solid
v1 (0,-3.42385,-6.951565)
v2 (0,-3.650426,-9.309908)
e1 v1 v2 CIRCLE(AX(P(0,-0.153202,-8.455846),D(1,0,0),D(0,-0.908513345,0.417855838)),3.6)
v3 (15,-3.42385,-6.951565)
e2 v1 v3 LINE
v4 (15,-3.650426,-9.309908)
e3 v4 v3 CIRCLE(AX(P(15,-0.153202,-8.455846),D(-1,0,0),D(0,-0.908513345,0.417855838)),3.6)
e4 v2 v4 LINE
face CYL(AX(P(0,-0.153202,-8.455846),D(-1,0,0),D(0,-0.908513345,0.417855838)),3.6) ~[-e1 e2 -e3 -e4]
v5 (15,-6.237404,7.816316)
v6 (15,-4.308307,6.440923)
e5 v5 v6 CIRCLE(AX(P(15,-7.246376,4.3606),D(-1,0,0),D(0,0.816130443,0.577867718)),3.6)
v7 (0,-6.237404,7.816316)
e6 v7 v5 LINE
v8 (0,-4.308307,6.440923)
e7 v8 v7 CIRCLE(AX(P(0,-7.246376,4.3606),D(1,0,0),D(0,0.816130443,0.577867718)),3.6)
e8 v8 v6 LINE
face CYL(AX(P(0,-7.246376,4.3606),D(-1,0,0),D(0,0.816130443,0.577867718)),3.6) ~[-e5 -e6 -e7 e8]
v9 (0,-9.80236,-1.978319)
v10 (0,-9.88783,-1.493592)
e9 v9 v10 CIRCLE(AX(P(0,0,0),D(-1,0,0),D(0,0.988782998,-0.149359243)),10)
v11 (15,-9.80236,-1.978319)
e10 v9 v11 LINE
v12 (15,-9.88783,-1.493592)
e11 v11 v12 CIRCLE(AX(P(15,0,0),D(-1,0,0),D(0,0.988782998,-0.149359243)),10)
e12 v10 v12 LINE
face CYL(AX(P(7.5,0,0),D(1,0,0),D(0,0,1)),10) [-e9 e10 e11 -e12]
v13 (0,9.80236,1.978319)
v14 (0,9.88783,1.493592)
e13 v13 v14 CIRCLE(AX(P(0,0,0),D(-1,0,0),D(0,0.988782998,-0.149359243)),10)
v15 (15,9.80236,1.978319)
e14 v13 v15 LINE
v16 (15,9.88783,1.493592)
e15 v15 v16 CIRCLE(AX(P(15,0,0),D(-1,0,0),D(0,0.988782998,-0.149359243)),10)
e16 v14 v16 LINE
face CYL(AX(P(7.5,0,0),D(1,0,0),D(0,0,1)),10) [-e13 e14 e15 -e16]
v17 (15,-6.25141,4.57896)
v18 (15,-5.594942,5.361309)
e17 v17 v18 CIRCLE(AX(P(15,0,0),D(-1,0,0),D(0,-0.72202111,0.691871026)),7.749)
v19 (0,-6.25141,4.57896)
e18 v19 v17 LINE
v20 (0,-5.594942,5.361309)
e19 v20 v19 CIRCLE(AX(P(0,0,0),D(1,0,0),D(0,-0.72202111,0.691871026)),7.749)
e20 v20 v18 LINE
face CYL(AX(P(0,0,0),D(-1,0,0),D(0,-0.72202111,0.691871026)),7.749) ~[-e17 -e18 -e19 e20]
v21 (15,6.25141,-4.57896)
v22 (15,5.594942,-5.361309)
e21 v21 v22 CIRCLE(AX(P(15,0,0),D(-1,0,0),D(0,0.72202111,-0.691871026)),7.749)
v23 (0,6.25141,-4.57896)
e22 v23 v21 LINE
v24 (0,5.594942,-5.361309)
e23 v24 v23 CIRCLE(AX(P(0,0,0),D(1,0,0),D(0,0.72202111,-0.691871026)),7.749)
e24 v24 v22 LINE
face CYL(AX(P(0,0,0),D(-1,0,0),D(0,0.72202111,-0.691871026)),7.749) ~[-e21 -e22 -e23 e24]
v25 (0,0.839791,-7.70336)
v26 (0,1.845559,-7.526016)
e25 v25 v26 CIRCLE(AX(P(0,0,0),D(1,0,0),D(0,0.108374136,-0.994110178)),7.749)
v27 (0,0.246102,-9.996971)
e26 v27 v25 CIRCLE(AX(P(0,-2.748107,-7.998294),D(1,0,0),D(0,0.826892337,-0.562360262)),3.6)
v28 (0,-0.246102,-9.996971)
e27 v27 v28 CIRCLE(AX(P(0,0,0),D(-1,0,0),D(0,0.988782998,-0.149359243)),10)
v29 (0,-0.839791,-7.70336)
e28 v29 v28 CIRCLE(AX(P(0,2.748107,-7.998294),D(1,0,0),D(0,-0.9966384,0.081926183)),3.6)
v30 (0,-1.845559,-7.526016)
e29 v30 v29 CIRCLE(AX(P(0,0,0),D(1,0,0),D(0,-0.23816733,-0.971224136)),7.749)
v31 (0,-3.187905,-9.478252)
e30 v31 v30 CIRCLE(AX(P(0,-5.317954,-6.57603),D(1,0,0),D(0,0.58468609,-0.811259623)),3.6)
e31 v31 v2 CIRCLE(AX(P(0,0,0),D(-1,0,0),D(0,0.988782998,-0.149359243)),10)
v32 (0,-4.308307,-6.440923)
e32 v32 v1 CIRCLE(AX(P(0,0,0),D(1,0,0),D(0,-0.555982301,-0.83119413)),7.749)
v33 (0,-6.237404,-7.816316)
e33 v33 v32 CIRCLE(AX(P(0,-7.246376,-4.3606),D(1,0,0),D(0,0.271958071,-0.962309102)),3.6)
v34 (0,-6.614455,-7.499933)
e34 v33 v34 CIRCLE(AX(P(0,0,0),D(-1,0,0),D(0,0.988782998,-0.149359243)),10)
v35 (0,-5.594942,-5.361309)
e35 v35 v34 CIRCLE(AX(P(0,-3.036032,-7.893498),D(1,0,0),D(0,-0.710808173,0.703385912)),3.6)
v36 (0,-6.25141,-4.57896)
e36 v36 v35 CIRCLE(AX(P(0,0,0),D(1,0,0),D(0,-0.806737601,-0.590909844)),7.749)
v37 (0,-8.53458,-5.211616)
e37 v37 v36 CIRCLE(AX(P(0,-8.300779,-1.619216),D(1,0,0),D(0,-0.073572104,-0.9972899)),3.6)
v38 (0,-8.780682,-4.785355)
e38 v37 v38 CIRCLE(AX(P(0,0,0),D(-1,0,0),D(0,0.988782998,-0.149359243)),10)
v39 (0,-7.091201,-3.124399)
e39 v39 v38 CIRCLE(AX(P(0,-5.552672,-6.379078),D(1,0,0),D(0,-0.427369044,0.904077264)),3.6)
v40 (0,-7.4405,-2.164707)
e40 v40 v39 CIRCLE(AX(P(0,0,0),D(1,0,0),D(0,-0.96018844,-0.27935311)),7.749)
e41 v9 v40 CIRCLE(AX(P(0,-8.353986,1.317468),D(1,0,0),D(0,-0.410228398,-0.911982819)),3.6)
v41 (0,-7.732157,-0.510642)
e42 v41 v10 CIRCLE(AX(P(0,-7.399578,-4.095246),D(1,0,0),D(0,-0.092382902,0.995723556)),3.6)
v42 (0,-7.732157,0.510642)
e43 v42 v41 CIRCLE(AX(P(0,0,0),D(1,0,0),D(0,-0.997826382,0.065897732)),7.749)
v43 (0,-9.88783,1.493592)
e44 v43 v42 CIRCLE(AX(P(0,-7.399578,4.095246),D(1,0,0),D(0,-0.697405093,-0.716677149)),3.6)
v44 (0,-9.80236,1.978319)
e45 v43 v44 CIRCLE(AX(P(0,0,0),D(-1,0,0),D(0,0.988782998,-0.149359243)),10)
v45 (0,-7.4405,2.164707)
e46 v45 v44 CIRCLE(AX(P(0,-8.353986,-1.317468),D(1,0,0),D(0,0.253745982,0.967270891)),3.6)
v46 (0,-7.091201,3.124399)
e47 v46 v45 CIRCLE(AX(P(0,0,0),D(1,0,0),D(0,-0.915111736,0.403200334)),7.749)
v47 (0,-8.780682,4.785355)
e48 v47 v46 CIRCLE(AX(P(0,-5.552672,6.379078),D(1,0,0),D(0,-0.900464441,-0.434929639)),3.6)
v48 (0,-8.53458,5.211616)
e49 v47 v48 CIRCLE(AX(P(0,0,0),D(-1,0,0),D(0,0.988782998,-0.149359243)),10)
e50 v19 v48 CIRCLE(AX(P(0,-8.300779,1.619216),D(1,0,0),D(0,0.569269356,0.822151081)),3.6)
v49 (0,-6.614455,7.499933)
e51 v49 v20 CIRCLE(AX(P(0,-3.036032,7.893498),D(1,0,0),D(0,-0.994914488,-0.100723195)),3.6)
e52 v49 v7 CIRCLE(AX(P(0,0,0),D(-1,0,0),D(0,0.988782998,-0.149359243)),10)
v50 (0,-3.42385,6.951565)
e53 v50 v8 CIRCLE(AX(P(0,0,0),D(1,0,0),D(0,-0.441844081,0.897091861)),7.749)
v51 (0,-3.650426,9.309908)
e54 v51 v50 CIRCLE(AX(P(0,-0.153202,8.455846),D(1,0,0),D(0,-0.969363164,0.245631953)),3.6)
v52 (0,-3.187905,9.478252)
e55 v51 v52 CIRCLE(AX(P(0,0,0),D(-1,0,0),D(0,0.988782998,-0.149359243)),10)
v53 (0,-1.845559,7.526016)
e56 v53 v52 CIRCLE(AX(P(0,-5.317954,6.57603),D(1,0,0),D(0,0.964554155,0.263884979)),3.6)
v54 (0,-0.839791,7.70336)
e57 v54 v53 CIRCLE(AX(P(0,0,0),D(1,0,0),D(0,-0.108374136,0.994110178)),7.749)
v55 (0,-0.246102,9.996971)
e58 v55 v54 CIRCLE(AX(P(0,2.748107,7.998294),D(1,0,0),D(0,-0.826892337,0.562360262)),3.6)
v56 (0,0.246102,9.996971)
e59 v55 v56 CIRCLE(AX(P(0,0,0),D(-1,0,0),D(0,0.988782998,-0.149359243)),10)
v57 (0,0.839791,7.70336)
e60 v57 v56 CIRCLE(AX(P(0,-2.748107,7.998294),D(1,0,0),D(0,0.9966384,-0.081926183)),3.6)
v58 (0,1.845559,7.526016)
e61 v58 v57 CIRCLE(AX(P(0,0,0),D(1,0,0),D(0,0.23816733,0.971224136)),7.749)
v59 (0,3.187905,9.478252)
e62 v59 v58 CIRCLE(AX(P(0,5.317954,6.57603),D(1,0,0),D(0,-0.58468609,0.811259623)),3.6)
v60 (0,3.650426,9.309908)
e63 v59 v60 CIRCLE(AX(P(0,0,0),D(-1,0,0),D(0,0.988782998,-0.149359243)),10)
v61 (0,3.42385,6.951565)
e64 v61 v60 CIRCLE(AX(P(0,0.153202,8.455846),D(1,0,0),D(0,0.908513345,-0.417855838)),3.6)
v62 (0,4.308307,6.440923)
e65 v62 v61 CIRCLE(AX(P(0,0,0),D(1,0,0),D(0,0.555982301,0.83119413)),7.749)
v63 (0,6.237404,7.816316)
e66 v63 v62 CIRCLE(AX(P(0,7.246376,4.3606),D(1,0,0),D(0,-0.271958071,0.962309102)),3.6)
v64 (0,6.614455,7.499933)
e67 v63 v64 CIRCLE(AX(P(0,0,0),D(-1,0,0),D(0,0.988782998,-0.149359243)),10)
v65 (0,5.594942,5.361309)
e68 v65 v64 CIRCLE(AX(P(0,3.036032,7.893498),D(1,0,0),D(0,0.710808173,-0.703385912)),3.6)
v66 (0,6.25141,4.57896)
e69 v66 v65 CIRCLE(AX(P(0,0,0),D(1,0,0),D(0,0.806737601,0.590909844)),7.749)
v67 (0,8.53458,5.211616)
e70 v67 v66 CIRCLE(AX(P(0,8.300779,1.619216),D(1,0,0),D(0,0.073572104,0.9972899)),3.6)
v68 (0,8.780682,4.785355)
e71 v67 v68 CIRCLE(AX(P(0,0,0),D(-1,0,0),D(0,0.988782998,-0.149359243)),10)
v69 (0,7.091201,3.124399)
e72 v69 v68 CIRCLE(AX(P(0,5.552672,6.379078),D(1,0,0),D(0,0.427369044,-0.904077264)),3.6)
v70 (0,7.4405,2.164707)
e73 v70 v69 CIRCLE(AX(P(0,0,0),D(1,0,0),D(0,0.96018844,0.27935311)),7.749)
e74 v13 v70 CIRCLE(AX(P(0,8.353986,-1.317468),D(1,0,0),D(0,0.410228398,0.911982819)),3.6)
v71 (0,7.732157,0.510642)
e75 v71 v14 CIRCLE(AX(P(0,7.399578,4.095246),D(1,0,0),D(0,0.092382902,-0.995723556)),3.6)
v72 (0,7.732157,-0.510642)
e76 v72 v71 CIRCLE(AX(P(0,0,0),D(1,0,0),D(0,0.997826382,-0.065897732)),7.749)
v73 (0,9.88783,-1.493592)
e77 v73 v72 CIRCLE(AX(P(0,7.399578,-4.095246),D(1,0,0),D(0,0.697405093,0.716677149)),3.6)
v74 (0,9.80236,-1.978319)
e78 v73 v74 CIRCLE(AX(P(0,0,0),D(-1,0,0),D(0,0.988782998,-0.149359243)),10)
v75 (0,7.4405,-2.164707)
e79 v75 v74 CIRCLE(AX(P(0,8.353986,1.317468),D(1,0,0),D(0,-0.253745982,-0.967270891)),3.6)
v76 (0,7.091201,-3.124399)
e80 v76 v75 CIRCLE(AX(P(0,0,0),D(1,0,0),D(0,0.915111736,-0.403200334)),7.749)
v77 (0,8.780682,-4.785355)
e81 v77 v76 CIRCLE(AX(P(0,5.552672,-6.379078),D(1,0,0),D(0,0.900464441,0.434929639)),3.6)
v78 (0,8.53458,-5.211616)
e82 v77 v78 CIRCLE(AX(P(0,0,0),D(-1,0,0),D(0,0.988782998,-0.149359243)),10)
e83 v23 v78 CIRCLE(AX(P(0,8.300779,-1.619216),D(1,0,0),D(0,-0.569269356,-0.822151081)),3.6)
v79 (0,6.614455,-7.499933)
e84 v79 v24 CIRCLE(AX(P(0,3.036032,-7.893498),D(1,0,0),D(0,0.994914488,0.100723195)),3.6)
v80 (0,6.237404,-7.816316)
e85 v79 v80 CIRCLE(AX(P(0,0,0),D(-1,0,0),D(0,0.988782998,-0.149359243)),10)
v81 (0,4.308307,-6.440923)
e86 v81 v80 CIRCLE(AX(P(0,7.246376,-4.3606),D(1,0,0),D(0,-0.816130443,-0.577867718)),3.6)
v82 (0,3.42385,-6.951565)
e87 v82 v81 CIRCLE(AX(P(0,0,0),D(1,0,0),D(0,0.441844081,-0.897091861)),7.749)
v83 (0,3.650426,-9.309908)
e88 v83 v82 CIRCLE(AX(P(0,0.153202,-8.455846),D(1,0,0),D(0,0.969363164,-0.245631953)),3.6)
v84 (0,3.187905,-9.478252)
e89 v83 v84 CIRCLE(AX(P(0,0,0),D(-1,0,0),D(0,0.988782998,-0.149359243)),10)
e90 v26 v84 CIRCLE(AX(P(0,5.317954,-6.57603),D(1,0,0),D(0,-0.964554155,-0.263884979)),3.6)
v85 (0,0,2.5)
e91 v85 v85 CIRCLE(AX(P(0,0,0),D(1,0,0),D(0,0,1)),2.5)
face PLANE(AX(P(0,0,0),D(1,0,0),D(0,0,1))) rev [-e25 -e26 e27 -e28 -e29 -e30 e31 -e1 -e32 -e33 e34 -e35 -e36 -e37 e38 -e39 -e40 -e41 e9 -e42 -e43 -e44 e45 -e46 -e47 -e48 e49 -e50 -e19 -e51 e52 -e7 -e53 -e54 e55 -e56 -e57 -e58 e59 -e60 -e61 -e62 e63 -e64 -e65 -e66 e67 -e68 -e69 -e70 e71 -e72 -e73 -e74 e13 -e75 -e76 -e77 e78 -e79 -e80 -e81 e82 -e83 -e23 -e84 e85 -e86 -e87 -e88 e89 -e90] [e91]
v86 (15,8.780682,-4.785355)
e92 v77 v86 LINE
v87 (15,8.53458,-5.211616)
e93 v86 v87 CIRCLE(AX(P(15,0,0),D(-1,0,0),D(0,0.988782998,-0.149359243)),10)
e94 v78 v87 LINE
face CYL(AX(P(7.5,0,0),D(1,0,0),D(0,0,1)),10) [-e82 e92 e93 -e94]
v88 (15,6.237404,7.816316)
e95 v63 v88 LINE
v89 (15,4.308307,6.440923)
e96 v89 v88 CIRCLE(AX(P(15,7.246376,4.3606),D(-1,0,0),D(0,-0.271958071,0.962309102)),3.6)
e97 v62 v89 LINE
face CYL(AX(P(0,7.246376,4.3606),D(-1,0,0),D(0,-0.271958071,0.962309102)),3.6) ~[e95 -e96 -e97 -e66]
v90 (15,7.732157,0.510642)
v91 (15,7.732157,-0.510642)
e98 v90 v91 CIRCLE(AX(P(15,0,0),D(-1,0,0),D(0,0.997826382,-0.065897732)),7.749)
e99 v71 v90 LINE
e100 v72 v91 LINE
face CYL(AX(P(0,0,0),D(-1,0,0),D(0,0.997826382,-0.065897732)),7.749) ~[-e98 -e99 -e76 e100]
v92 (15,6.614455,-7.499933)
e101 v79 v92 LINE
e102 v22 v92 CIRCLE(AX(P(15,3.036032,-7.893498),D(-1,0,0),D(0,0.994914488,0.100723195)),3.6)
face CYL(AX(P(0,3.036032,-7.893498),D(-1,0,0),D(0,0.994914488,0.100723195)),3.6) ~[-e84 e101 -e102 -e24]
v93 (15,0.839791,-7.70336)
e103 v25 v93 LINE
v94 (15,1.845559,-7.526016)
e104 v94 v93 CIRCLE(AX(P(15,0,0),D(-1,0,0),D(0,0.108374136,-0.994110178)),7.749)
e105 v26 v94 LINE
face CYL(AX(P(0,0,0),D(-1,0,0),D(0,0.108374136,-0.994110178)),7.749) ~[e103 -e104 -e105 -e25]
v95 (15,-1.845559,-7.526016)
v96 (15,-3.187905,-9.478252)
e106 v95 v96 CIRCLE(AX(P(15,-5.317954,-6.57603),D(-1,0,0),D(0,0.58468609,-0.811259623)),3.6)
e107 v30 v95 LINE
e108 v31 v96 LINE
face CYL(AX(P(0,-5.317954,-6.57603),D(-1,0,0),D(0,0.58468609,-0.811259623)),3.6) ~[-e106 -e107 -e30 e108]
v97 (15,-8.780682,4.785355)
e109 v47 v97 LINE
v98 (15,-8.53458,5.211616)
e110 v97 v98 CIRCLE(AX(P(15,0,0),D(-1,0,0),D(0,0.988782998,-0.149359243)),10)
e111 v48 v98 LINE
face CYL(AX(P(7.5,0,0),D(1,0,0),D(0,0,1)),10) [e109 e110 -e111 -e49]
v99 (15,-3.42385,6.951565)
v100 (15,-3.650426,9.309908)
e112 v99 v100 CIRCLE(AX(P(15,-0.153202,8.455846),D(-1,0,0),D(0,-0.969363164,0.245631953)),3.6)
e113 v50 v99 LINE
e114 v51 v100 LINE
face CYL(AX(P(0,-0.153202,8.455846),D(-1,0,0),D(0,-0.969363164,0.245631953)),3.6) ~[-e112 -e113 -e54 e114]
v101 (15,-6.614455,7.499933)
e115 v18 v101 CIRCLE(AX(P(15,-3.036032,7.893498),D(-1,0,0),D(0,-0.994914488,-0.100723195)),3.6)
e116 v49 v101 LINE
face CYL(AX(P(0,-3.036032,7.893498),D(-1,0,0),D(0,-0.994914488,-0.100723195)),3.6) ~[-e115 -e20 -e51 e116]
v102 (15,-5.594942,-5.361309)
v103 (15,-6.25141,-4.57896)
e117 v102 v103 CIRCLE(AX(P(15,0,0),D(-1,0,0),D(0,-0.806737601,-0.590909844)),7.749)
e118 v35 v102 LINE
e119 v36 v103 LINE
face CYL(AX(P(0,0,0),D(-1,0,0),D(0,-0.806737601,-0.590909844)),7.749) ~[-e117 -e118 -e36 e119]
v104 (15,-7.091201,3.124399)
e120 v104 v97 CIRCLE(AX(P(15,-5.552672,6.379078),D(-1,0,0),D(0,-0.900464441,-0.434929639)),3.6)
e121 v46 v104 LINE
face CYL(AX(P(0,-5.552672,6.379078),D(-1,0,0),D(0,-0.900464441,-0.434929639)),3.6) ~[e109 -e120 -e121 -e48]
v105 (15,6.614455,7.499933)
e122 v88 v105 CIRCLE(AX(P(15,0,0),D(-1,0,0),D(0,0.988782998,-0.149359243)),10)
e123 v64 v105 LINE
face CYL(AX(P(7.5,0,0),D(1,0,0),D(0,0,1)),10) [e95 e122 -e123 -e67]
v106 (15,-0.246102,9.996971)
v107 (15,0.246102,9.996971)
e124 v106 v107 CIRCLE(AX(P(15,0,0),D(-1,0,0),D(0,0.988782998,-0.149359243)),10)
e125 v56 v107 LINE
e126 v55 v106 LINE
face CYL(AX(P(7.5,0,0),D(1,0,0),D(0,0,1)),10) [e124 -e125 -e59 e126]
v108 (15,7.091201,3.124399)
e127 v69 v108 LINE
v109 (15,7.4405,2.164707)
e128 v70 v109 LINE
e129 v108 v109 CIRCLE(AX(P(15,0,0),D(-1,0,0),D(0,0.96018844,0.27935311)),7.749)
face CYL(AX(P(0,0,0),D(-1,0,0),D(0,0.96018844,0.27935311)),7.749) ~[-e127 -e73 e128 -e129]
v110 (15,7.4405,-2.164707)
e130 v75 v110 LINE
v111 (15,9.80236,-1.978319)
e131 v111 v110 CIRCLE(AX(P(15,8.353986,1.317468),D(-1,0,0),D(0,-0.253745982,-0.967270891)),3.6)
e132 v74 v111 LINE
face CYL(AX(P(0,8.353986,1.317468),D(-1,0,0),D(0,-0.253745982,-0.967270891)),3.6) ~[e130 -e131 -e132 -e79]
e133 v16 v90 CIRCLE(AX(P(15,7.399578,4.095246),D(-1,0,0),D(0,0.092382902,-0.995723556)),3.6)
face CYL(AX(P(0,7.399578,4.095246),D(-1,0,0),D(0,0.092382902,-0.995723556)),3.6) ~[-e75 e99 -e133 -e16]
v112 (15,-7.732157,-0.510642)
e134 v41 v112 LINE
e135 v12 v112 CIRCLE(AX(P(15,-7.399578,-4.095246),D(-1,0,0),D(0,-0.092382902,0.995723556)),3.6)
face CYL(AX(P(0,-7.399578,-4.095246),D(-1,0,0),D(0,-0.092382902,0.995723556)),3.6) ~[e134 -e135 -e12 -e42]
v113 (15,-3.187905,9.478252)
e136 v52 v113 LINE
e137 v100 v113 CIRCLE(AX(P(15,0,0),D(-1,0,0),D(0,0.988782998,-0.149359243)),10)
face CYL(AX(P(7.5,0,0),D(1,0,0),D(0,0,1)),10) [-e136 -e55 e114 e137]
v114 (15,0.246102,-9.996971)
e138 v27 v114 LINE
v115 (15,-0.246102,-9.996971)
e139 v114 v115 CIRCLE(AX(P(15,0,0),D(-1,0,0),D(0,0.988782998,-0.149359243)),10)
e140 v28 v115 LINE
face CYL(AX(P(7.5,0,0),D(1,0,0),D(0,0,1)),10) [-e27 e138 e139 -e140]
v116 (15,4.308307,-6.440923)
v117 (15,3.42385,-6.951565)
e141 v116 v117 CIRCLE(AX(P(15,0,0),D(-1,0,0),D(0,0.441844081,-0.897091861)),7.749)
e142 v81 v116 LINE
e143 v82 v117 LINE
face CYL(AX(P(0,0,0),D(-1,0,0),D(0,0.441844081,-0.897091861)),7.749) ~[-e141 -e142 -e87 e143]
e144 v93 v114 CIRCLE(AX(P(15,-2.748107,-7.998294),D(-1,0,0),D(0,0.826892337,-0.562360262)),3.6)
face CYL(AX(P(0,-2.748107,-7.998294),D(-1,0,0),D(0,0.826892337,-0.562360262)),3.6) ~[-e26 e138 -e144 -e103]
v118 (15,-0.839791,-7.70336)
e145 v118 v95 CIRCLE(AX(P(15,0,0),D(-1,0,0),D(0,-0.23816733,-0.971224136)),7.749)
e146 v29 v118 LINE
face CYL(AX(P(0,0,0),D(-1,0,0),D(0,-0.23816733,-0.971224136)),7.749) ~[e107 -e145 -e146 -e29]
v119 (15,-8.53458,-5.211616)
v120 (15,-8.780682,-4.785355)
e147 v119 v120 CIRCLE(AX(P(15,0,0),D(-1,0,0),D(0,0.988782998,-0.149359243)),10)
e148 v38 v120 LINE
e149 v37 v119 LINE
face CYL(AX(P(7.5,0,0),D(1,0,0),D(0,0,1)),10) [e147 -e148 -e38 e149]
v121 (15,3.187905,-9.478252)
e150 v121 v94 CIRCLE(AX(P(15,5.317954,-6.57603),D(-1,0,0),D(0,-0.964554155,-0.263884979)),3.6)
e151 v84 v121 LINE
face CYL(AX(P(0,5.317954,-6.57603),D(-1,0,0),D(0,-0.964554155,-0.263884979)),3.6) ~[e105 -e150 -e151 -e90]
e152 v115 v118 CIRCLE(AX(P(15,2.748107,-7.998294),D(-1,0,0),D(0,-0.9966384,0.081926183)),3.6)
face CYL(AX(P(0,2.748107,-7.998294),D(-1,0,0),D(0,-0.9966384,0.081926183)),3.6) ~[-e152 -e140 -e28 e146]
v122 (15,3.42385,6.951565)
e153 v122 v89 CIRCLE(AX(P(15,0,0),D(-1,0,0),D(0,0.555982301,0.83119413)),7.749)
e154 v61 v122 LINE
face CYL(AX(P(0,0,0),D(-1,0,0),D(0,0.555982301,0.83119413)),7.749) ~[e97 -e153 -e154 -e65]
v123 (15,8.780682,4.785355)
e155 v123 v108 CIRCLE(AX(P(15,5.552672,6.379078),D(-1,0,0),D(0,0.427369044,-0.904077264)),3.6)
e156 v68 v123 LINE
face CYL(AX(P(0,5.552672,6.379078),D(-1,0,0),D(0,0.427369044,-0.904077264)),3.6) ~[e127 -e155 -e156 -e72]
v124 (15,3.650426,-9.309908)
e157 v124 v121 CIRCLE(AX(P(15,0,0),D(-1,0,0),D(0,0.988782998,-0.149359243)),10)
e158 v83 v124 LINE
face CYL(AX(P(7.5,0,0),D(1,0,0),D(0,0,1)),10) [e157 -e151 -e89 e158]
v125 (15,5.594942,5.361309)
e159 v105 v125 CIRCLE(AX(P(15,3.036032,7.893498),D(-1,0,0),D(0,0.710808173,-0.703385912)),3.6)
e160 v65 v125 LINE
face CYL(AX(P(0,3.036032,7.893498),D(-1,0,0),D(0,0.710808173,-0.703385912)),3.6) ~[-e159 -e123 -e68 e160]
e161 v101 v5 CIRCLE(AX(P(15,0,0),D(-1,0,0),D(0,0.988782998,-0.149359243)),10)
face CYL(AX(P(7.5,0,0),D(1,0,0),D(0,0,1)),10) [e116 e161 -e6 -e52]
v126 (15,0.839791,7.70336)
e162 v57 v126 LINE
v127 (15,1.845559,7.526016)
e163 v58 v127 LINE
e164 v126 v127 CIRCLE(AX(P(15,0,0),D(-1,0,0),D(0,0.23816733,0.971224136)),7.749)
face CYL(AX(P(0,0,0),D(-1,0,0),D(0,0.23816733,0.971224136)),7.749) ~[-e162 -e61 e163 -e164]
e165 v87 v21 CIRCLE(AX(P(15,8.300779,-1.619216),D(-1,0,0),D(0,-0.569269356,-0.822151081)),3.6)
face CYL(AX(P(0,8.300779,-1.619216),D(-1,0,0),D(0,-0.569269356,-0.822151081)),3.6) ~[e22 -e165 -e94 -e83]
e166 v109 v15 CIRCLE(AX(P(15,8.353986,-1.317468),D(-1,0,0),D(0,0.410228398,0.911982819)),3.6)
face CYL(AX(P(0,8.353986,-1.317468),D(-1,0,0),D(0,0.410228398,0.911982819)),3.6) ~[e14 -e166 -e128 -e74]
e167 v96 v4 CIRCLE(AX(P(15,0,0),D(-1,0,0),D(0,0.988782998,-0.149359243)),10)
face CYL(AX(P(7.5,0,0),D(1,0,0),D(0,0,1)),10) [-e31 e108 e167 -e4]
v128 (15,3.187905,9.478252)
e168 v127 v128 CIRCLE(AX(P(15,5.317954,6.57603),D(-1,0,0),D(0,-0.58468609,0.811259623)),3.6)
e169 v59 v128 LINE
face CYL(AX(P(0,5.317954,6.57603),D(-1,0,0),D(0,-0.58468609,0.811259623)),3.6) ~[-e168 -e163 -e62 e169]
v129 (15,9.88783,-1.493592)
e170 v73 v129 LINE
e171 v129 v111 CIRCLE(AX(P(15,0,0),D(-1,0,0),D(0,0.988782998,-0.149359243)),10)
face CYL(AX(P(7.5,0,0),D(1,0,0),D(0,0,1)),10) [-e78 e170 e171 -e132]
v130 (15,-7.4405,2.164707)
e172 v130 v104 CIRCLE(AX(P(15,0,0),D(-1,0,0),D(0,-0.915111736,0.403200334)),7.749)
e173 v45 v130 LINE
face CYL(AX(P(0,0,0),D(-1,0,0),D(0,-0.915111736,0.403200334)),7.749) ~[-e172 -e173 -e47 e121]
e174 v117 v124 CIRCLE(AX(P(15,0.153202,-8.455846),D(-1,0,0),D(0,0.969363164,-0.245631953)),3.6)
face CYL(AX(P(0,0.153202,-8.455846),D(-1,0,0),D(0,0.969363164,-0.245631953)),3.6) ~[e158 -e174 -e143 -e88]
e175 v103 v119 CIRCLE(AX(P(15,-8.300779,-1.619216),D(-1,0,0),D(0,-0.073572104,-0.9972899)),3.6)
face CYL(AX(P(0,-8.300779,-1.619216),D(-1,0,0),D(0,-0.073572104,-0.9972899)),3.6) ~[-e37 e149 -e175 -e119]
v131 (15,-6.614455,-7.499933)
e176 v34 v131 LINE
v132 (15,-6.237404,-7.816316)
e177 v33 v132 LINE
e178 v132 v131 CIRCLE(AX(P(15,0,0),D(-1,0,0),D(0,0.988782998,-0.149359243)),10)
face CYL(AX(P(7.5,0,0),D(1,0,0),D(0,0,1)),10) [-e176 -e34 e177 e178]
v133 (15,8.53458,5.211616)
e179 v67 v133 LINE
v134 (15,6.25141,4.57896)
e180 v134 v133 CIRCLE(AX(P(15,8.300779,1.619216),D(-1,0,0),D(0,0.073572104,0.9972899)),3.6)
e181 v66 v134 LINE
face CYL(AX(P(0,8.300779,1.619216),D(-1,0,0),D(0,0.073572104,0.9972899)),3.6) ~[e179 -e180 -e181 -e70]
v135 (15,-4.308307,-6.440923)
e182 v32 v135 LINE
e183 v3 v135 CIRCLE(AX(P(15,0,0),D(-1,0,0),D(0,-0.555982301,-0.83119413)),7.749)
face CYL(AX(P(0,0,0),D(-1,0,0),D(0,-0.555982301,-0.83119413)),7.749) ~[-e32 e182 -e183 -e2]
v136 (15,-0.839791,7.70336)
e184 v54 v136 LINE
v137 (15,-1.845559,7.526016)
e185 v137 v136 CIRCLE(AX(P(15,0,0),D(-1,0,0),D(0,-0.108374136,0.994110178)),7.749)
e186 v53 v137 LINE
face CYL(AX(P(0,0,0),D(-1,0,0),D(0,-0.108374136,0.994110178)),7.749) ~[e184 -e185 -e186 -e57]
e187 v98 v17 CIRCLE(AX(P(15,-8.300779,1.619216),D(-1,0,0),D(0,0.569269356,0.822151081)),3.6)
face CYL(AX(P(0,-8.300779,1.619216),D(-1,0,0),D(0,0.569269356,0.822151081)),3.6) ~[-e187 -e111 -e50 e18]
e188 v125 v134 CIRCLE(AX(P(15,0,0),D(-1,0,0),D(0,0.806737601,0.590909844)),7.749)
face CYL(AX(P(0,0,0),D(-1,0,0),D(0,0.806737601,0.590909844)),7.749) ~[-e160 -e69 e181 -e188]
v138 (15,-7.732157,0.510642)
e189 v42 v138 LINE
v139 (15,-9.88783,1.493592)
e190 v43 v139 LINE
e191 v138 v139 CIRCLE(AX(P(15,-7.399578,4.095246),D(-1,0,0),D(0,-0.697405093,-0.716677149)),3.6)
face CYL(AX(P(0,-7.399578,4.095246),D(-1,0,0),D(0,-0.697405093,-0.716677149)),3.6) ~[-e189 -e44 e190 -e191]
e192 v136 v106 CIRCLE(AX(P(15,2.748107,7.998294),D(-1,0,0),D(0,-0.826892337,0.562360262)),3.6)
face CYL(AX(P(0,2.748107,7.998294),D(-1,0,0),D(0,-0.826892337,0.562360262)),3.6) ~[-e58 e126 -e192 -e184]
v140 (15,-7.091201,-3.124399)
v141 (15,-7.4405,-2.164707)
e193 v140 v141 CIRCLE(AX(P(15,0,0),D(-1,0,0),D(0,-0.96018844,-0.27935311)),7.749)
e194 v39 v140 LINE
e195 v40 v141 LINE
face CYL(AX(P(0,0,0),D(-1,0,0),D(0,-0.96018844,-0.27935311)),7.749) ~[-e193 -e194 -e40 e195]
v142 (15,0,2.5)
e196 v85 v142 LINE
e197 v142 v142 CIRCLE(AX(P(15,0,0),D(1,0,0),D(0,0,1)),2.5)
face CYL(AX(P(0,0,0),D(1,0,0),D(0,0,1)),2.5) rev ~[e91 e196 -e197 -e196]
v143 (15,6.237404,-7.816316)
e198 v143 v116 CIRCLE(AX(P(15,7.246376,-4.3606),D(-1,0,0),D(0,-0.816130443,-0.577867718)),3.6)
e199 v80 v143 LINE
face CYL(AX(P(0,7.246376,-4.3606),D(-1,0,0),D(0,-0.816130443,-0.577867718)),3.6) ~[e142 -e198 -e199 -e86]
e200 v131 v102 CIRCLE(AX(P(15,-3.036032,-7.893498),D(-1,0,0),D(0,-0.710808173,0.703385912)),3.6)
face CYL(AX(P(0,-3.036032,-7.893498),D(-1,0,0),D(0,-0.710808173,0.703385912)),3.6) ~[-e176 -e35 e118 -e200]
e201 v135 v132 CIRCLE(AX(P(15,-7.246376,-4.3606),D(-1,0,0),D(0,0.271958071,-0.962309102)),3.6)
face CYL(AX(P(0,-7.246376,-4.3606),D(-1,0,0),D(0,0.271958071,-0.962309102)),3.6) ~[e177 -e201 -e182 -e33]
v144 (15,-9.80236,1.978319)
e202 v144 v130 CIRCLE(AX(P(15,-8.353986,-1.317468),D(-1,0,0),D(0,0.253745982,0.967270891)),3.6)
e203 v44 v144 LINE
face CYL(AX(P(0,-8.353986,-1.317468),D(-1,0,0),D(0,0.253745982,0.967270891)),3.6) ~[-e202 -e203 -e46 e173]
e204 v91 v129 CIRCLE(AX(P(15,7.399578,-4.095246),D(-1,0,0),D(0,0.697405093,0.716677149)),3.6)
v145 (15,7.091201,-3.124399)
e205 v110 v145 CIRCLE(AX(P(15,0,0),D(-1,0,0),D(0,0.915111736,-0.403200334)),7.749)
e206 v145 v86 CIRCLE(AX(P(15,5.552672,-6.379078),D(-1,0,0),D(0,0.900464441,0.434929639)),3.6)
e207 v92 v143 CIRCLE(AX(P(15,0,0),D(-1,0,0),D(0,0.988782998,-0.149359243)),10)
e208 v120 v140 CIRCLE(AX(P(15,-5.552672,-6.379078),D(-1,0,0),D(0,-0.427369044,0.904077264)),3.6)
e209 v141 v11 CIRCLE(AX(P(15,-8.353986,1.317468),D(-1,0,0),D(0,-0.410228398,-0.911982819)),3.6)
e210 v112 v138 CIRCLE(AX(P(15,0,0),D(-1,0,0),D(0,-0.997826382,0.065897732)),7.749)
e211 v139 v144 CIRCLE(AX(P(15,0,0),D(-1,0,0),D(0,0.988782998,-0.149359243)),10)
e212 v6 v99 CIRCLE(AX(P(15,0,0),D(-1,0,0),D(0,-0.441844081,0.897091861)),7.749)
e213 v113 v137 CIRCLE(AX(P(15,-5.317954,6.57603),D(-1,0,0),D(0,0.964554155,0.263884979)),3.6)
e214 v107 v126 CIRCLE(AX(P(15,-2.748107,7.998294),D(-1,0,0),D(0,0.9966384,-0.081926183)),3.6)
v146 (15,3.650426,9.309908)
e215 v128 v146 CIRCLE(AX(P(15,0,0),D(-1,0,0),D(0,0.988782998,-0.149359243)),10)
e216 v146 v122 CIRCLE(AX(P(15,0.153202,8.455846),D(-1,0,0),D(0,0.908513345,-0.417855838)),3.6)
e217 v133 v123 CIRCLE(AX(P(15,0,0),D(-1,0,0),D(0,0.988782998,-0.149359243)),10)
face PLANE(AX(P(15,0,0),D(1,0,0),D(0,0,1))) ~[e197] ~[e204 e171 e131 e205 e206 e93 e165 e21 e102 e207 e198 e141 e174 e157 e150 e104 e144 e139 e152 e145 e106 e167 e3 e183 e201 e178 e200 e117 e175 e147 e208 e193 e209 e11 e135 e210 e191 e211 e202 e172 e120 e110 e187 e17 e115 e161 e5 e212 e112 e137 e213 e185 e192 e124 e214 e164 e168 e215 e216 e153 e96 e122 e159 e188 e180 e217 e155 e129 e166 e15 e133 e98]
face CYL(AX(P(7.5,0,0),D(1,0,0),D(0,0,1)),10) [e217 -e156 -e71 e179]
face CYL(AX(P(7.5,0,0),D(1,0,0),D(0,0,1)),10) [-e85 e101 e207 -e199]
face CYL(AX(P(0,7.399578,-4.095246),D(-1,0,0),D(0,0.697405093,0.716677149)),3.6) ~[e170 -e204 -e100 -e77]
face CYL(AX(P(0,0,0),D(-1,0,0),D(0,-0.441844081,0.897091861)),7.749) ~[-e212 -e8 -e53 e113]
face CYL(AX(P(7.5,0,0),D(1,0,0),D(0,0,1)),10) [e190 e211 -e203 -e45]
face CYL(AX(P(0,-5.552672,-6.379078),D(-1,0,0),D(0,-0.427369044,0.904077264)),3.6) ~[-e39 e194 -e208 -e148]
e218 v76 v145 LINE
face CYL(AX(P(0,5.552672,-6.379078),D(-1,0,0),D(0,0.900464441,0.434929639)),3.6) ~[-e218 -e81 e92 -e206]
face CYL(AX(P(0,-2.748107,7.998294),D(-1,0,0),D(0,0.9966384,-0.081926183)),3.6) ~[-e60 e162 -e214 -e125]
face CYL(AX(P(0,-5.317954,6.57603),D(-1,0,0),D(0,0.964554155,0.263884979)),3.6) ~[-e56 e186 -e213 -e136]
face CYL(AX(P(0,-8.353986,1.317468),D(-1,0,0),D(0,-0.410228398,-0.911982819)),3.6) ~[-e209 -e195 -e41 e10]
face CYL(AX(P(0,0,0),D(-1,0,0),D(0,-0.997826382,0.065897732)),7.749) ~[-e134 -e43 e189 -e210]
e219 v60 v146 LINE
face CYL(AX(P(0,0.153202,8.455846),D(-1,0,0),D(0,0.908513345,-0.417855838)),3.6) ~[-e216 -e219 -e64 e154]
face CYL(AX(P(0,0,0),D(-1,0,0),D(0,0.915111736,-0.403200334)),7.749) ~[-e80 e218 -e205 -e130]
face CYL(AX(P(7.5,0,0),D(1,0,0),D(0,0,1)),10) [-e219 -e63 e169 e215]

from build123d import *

# Parameters (mm, degrees)
BASPROSKE_W     = 15
BASPROSKE_H     = 10
TOOTHCUT_DEPTH  = 21.615528128
TEETHCUTS_COUNT = 18
TEETHCUTS_ANGLE = 340
BORSKE_R        = 2.5
BORE_DEPTH      = 50.0000508


with BuildPart() as part:
    # BasProSke → Base-Revolve (revolve)
    with BuildSketch(Plane(origin=(0, 0, 0), x_dir=(1, 0, 0), z_dir=(0, 1, 0)), mode=Mode.PRIVATE) as base_revolve_sk:
        with Locations((7.5, 5)):
            Rectangle(BASPROSKE_W, BASPROSKE_H)
    revolve(base_revolve_sk.sketch.rotate(Axis((-10, 0, 0), (1, 0, 0)), 180), axis=Axis((-10, 0, 0), (1, 0, 0)))

    # TooCutSke → ToothCut (cut, through all)
    with BuildSketch(Plane(origin=(0, 0, 0), x_dir=(0, 0, -1), z_dir=(1, 0, 0))):
        with BuildLine():
            ThreePointArc((0.510641536, 7.732156635), (0, 7.749), (-0.510641536, 7.732156635))
            ThreePointArc((-0.510641536, 7.732156635), (-0.82619259, 8.907320741), (-1.515208602, 9.910236529))
            ThreePointArc((-1.515208602, 9.910236529), (0, 10.0254), (1.515208602, 9.910236529))
            ThreePointArc((1.515208602, 9.910236529), (0.82619259, 8.907320741), (0.510641536, 7.732156635))
        make_face()
    toothcut = extrude(amount=TOOTHCUT_DEPTH, mode=Mode.SUBTRACT)

    # TeethCuts: ToothCut ×18 about axis
    teethcuts_axis = Axis((-10, 0, 0), (1, 0, 0))
    for i in range(1, TEETHCUTS_COUNT):
        add(toothcut.rotate(teethcuts_axis, i * TEETHCUTS_ANGLE / (TEETHCUTS_COUNT - 1)), mode=Mode.SUBTRACT)

    # BorSke → Bore (cut, symmetric)
    with BuildSketch(Plane(origin=(0, 0, 0), x_dir=(0, 0, -1), z_dir=(1, 0, 0))):
        with Locations(Location((0, 0, 0), (0, 0, 180))):
            Circle(BORSKE_R)
    extrude(amount=BORE_DEPTH, both=True, mode=Mode.SUBTRACT)


solid = part.part
